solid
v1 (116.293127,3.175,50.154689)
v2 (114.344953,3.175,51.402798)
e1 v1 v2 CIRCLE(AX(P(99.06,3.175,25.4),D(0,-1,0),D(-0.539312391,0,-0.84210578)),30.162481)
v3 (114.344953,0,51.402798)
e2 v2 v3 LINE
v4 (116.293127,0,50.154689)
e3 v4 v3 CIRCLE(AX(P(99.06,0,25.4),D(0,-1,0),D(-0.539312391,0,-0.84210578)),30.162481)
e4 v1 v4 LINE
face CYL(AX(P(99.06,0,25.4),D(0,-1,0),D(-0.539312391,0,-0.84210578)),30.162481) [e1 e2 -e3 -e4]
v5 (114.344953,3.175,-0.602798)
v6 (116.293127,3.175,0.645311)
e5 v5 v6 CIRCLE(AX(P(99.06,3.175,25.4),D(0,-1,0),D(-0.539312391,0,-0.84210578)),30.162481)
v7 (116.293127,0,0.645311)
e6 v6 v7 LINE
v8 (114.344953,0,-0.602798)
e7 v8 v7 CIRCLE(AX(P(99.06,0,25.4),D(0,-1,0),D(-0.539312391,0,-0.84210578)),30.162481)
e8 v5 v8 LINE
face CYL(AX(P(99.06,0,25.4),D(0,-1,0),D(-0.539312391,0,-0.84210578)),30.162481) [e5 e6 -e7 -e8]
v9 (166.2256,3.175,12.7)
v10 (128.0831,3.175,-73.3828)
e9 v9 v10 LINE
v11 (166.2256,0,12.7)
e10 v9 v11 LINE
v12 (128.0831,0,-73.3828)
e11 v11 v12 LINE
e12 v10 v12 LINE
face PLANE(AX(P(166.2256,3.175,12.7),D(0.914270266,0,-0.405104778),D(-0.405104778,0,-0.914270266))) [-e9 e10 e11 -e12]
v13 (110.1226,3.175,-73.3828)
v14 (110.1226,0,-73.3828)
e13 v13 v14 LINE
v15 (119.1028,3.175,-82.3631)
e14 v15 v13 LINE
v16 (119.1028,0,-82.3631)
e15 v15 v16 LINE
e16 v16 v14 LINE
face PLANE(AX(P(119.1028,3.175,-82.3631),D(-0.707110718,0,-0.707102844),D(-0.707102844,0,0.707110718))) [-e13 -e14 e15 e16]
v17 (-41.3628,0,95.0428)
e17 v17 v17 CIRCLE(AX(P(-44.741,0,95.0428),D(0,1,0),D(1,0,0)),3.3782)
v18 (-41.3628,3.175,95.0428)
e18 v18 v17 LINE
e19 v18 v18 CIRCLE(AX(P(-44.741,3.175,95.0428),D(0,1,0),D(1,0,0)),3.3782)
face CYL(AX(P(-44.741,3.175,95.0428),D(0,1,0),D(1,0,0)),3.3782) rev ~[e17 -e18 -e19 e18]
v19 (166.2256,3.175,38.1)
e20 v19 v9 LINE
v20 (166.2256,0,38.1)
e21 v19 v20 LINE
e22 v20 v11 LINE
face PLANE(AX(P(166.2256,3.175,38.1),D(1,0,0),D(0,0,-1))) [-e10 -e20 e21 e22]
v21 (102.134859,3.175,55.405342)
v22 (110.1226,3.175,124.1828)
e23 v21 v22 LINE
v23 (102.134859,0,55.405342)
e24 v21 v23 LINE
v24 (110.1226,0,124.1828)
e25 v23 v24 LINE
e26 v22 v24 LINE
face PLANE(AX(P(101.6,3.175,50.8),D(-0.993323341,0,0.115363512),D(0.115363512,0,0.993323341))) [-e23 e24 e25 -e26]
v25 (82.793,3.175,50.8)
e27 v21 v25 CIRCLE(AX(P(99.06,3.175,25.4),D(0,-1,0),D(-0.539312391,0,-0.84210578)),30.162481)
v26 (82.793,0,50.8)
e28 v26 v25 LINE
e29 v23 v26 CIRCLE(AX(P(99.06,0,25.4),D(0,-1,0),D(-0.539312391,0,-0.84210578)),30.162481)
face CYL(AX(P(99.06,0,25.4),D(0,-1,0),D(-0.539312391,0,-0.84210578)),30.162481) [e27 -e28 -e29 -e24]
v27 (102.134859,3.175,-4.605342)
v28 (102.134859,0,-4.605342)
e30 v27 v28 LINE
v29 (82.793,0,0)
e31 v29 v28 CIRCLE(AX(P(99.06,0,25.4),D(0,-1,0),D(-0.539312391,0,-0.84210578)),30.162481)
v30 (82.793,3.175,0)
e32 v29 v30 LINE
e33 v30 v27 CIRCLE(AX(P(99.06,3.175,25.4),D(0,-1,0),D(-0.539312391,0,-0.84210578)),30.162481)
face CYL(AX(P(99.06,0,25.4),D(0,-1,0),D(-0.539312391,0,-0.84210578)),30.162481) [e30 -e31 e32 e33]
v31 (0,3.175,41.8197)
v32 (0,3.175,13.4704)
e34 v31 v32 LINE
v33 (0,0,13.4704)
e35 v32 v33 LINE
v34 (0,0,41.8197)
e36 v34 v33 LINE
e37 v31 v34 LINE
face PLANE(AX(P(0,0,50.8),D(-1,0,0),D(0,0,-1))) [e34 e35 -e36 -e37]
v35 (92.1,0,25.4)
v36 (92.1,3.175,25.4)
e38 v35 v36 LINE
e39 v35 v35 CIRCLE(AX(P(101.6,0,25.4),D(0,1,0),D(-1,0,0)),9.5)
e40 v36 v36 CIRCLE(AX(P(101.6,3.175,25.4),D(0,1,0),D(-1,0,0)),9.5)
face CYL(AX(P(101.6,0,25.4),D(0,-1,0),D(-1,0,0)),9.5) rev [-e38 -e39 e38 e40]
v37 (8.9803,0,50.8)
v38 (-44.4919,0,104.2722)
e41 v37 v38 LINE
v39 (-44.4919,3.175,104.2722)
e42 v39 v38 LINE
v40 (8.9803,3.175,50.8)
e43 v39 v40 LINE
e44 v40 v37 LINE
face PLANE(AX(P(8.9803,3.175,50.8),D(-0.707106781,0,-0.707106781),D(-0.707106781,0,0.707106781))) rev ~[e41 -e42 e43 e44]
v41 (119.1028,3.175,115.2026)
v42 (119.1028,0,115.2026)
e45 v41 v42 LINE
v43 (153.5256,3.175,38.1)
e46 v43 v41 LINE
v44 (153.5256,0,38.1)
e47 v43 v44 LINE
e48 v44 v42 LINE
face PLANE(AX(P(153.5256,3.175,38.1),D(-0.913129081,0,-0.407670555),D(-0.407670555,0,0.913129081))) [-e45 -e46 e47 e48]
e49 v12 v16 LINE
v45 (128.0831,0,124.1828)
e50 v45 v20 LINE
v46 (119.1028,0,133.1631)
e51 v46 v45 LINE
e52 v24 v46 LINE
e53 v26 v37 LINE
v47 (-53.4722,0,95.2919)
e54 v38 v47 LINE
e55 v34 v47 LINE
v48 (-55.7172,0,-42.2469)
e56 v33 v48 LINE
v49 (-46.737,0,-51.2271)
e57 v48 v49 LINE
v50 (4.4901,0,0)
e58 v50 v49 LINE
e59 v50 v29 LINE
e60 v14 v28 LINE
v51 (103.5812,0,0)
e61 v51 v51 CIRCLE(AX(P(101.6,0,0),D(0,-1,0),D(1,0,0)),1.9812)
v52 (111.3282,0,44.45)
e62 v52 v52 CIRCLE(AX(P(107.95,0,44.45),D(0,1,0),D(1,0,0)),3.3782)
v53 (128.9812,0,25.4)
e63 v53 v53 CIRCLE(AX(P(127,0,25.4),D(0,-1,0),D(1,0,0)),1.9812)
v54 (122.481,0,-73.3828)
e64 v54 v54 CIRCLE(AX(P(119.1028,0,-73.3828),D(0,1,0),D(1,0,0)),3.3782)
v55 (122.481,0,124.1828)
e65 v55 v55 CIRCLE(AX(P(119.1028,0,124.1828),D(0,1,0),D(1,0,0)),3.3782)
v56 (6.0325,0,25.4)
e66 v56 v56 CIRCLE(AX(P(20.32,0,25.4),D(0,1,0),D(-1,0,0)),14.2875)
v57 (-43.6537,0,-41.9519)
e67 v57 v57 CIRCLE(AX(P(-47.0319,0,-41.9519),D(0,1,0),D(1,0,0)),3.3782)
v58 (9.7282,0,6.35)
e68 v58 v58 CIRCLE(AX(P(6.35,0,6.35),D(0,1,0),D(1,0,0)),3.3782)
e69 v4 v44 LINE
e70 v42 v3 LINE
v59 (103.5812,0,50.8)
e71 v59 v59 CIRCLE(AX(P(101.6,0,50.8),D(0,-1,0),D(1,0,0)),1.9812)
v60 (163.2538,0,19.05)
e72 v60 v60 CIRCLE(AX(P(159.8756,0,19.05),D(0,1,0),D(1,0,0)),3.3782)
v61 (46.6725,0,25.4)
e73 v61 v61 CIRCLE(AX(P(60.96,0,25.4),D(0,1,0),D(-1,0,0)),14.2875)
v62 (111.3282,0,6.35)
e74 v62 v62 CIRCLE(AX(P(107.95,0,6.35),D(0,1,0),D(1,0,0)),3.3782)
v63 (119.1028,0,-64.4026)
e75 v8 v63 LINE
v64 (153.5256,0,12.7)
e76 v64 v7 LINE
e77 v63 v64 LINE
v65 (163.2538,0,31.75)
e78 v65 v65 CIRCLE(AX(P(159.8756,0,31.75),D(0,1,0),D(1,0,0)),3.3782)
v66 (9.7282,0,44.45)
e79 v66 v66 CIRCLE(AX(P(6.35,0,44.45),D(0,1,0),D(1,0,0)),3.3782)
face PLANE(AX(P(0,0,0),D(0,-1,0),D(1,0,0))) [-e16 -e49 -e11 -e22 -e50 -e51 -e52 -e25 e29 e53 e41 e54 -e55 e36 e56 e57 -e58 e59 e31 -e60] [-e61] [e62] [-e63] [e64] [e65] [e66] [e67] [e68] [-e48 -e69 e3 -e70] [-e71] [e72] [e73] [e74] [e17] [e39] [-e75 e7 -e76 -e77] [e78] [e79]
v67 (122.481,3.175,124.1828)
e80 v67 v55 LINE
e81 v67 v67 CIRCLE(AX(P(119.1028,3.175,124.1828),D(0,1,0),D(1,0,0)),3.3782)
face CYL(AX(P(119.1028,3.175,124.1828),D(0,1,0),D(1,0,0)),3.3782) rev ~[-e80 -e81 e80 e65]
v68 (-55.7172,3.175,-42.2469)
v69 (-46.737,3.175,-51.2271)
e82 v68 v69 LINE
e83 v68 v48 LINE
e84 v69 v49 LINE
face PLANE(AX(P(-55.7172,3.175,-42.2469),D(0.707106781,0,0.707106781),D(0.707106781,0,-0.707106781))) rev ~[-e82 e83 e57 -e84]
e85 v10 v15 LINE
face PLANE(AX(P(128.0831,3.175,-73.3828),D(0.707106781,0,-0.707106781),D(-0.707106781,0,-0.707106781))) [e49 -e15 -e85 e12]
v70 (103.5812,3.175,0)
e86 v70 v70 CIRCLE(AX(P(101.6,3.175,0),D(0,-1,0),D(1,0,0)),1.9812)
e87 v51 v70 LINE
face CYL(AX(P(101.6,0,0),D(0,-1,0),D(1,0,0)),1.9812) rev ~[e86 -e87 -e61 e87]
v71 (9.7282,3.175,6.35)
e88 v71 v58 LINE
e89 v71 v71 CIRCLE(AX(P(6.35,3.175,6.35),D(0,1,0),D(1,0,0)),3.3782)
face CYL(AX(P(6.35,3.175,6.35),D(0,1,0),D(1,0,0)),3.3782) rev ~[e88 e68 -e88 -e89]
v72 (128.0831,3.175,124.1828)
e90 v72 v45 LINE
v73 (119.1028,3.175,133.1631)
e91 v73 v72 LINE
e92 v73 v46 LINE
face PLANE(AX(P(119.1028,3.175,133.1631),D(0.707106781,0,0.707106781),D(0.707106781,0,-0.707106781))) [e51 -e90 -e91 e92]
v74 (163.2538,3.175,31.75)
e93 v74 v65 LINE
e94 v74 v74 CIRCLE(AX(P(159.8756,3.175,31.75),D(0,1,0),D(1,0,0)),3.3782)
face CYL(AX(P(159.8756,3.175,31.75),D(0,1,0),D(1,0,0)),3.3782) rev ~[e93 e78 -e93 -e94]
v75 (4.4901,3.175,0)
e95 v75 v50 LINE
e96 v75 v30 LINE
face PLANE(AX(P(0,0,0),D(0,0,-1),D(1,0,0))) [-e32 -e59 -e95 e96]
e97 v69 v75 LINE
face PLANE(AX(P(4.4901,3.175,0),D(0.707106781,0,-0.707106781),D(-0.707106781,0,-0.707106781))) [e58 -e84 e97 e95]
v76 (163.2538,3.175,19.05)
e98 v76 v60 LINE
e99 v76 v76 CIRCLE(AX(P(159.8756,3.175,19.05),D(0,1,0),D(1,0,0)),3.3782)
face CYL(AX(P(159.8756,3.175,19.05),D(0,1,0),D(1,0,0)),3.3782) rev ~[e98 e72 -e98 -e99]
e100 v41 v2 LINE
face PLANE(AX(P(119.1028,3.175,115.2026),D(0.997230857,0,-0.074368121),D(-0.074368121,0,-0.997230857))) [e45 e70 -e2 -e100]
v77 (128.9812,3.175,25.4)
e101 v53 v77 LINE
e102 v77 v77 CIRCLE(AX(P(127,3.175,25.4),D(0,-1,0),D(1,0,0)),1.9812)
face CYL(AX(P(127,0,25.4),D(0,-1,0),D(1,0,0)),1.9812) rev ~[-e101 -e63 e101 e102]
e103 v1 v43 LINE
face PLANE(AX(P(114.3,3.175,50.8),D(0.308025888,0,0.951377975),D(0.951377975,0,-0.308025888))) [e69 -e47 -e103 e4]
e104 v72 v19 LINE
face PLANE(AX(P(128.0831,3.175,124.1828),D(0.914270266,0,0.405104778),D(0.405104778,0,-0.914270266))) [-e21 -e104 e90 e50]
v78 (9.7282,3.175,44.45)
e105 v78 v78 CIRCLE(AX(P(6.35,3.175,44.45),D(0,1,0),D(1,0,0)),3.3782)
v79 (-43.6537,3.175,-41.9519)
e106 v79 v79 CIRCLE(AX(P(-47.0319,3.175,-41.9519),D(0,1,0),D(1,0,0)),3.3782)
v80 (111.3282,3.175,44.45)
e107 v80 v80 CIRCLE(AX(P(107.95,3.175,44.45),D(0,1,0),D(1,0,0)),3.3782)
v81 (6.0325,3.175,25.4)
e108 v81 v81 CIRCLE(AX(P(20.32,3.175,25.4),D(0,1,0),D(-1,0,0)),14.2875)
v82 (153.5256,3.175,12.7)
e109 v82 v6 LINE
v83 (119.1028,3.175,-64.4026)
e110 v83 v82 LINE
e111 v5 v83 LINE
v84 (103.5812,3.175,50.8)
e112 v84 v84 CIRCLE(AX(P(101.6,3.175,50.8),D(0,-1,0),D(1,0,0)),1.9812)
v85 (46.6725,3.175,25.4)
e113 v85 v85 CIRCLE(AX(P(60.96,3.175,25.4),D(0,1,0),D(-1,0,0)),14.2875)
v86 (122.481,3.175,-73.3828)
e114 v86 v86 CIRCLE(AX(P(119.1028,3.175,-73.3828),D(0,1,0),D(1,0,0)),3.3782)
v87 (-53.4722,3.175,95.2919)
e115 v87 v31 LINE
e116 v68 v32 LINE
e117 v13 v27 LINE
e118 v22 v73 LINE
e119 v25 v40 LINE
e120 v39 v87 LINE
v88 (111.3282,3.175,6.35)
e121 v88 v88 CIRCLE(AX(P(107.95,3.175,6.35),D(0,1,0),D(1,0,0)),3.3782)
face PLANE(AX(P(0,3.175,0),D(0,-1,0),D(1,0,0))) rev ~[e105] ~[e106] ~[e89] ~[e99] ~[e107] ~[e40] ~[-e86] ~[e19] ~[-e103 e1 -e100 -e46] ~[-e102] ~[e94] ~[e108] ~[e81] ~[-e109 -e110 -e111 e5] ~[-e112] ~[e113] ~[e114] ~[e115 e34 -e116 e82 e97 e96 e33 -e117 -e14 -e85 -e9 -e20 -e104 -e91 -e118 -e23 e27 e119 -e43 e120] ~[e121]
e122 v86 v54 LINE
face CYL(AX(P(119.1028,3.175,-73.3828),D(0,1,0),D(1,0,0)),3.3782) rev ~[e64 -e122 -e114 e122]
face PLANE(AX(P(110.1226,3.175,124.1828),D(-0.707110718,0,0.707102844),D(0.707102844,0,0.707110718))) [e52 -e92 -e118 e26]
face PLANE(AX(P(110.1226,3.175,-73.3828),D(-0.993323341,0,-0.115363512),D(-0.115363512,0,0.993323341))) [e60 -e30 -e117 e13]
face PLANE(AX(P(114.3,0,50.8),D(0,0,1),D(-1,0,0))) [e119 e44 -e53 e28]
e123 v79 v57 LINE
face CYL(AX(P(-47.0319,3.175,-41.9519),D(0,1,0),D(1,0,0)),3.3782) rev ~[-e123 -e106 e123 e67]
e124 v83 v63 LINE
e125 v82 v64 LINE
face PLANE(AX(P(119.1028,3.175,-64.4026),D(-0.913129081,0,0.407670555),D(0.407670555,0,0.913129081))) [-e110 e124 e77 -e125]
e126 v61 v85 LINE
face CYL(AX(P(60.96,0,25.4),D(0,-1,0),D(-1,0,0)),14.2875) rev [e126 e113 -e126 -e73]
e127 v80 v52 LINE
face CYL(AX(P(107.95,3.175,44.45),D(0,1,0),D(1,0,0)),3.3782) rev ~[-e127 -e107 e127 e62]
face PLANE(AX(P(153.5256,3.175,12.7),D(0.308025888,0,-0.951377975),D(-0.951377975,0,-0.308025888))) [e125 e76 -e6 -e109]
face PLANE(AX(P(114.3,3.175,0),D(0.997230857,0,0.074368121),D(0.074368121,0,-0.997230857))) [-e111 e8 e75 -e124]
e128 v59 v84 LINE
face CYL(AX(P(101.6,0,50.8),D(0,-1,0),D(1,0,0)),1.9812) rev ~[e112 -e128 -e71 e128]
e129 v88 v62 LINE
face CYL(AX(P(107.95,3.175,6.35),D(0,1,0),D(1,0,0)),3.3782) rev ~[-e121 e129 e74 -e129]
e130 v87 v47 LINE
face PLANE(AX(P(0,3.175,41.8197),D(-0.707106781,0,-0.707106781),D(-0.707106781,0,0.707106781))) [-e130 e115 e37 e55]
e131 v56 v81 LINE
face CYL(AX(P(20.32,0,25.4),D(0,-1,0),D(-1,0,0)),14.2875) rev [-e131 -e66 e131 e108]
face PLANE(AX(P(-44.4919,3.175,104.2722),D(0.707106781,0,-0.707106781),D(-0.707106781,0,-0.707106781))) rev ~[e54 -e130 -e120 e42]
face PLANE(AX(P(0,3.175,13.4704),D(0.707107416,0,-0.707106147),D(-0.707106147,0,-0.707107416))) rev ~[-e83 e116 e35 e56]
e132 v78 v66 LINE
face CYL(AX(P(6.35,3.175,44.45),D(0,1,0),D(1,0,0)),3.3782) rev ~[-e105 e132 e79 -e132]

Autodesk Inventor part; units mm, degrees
ref_plane "YZ Plane" through (0, 0, 0) normal (1, 0, 0) x (0, 1, 0)
ref_plane "XZ Plane" through (0, 0, 0) normal (0, 1, 0) x (-1, 0, 0)
ref_plane "XY Plane" through (0, 0, 0) normal (0, 0, 1) x (1, 0, 0)
sketch "Sketch1" plane through (0, 0, 0) normal (0, 1, 0) x (-1, 0, 0)
  line L0 (0, 0) -> (-114.3, 0)
  line L1 (-114.3, 0) -> (-114.3, 50.8)
  line L2 (-114.3, 50.8) -> (0, 50.8)
  line L3 (0, 50.8) -> (0, 0)
  circle A0 centre (-101.6, 25.4) radius 9.5
  circle A1 centre (-60.96, 25.4) radius 14.2875
  circle A2 centre (-20.32, 25.4) radius 14.2875
  dimension "d3" = 50.8
  dimension "d4" = 19
  dimension "d12" = 28.575
  dimension "d13" = 40.64
  dimension "d14" = 114.3
  dimension "d15" = 28.575
  dimension "d16" = 40.64
  dimension "d56" = 20.32
  dimension "d57" = 25.4
  dimension "d58" = 25.4
  dimension "d59" = 25.4
extrude "Extrusion3" add sketch "Sketch1" along normal blind 3.175
sketch "Sketch2" plane through (0, 3.175, 0) normal (0, 1, 0) x (1, 0, 0)
  line L0 (114.3, 0) -> (0, 0) projected
  line L1 (0, -50.8) -> (114.3, -50.8) projected
  line L2 (114.3, -50.8) -> (114.3, 0) projected
  circle A0 centre (107.95, -6.35) radius 3.3782
  circle A1 centre (107.95, -44.45) radius 3.3782
  dimension "d19" = 6.7564
  dimension "d20" = 6.7564
  dimension "d21" = 6.35
  dimension "d22" = 6.35
  dimension "d23" = 6.35
  dimension "d24" = 6.35
extrude "Extrusion4" cut sketch "Sketch2" against normal blind 25.4
sketch "Sketch3" plane through (0, 3.175, 0) normal (0, 1, 0) x (1, 0, 0)
  line L0 (114.3, 0) -> (0, 0) projected
  line L1 (0, 0) -> (0, -50.8) projected
  line L2 (0, -50.8) -> (114.3, -50.8) projected
  circle A0 centre (6.35, -6.35) radius 3.3782
  circle A1 centre (6.35, -44.45) radius 3.3782
  dimension "d27" = 6.7564
  dimension "d28" = 6.7564
  dimension "d29" = 6.35
  dimension "d30" = 6.35
  dimension "d31" = 6.35
  dimension "d32" = 6.35
extrude "Extrusion5" cut sketch "Sketch3" against normal blind 25.4
sketch "Sketch4" plane through (0, 3.175, 0) normal (0, 1, 0) x (1, 0, 0)
  circle A0 centre (6.35, -6.35) radius 3.3782 projected
  circle A1 centre (6.35, -44.45) radius 3.3782 projected
  line L0 (114.3, 0) -> (0, 0) projected
  line L1 (0, 0) -> (0, -50.8) projected
  line L2 (0, -50.8) -> (114.3, -50.8) projected
  line L3 (226.8659, 306.8695) -> (559.1354, -25.4) projected
  line L4 (559.1354, -25.4) -> (226.8659, -357.6695) projected
  line L5 (226.8659, -357.6695) -> (-105.4036, -25.4) projected
  line L6 (-105.4036, -25.4) -> (226.8659, 306.8695) projected
  circle A2 centre (-105.9649, -16.981) radius 3.3782 projected
  circle A3 centre (-97.5459, -8.562) radius 3.3782 projected
  circle A4 centre (-89.1269, -0.143) radius 3.3782 projected
  circle A5 centre (-80.7079, 8.276) radius 3.3782 projected
  circle A6 centre (-72.2889, 16.695) radius 3.3782 projected
  circle A7 centre (-63.8699, 25.1139) radius 3.3782 projected
  circle A8 centre (-55.4509, 33.5329) radius 3.3782 projected
  circle A9 centre (-47.0319, 41.9519) radius 3.3782 projected
  circle A10 centre (-39.2063, 49.7776) radius 3.3782 projected
  circle A11 centre (-31.3806, 57.6032) radius 3.3782 projected
  circle A12 centre (-23.555, 65.4289) radius 3.3782 projected
  circle A13 centre (-15.7293, 73.2545) radius 3.3782 projected
  circle A14 centre (-7.9037, 81.0802) radius 3.3782 projected
  circle A15 centre (-0.078, 88.9058) radius 3.3782 projected
  circle A16 centre (7.7476, 96.7315) radius 3.3782 projected
  circle A17 centre (15.5733, 104.5571) radius 3.3782 projected
  circle A18 centre (23.3989, 112.3828) radius 3.3782 projected
  circle A19 centre (31.2246, 120.2084) radius 3.3782 projected
  circle A20 centre (39.0502, 128.0341) radius 3.3782 projected
  circle A21 centre (46.8759, 135.8597) radius 3.3782 projected
  circle A22 centre (54.7016, 143.6854) radius 3.3782 projected
  circle A23 centre (62.5272, 151.511) radius 3.3782 projected
  circle A24 centre (70.3529, 159.3367) radius 3.3782 projected
  circle A25 centre (78.1785, 167.1623) radius 3.3782 projected
  circle A26 centre (86.0042, 174.988) radius 3.3782 projected
  circle A27 centre (93.8298, 182.8137) radius 3.3782 projected
  circle A28 centre (101.6555, 190.6393) radius 3.3782 projected
  circle A29 centre (109.4811, 198.465) radius 3.3782 projected
  circle A30 centre (117.3068, 206.2906) radius 3.3782 projected
  circle A31 centre (125.1324, 214.1163) radius 3.3782 projected
  circle A32 centre (132.9581, 221.9419) radius 3.3782 projected
  circle A33 centre (140.7837, 229.7676) radius 3.3782 projected
  circle A34 centre (148.6094, 237.5932) radius 3.3782 projected
  circle A35 centre (156.435, 245.4189) radius 3.3782 projected
  circle A36 centre (164.2607, 253.2445) radius 3.3782 projected
  circle A37 centre (172.0863, 261.0702) radius 3.3782 projected
  circle A38 centre (179.912, 268.8958) radius 3.3782 projected
  circle A39 centre (187.7376, 276.7215) radius 3.3782 projected
  circle A40 centre (195.5633, 284.5471) radius 3.3782 projected
  circle A41 centre (203.3889, 292.3728) radius 3.3782 projected
  circle A42 centre (211.2146, 300.1984) radius 3.3782 projected
  circle A43 centre (219.0402, 308.0241) radius 3.3782 projected
  circle A44 centre (226.8659, 315.8497) radius 3.3782 projected
  circle A45 centre (-114.3838, -25.4) radius 3.3782 projected
  circle A46 centre (-107.4196, -32.3643) radius 3.3782 projected
  circle A47 centre (-100.4553, -39.3286) radius 3.3782 projected
  circle A48 centre (-93.491, -46.2928) radius 3.3782 projected
  circle A49 centre (-86.5267, -53.2571) radius 3.3782 projected
  circle A50 centre (-79.5624, -60.2214) radius 3.3782 projected
  circle A51 centre (-72.5982, -67.1857) radius 3.3782 projected
  circle A52 centre (-65.6339, -74.15) radius 3.3782 projected
  circle A53 centre (-58.6696, -81.1142) radius 3.3782 projected
  circle A54 centre (-51.7053, -88.0785) radius 3.3782 projected
  circle A55 centre (-44.741, -95.0428) radius 3.3782 projected
  circle A56 centre (-37.7768, -102.0071) radius 3.3782 projected
  circle A57 centre (-30.8125, -108.9714) radius 3.3782 projected
  circle A58 centre (-23.8482, -115.9356) radius 3.3782 projected
  circle A59 centre (-16.8839, -122.8999) radius 3.3782 projected
  circle A60 centre (-9.9196, -129.8642) radius 3.3782 projected
  circle A61 centre (-2.9554, -136.8285) radius 3.3782 projected
  circle A62 centre (4.0089, -143.7928) radius 3.3782 projected
  circle A63 centre (10.9732, -150.757) radius 3.3782 projected
  circle A64 centre (17.9375, -157.7213) radius 3.3782 projected
  circle A65 centre (24.9018, -164.6856) radius 3.3782 projected
  circle A66 centre (31.866, -171.6499) radius 3.3782 projected
  circle A67 centre (38.8303, -178.6142) radius 3.3782 projected
  circle A68 centre (45.7946, -185.5784) radius 3.3782 projected
  circle A69 centre (52.7589, -192.5427) radius 3.3782 projected
  circle A70 centre (59.7232, -199.507) radius 3.3782 projected
  circle A71 centre (66.6874, -206.4713) radius 3.3782 projected
  circle A72 centre (73.6517, -213.4356) radius 3.3782 projected
  circle A73 centre (80.616, -220.3998) radius 3.3782 projected
  circle A74 centre (87.5803, -227.3641) radius 3.3782 projected
  circle A75 centre (94.5446, -234.3284) radius 3.3782 projected
  circle A76 centre (101.5088, -241.2927) radius 3.3782 projected
  circle A77 centre (108.4731, -248.257) radius 3.3782 projected
  circle A78 centre (115.4374, -255.2212) radius 3.3782 projected
  circle A79 centre (122.4017, -262.1855) radius 3.3782 projected
  circle A80 centre (129.366, -269.1498) radius 3.3782 projected
  circle A81 centre (136.3302, -276.1141) radius 3.3782 projected
  circle A82 centre (143.2945, -283.0784) radius 3.3782 projected
  circle A83 centre (150.2588, -290.0426) radius 3.3782 projected
  circle A84 centre (157.2231, -297.0069) radius 3.3782 projected
  circle A85 centre (164.1874, -303.9712) radius 3.3782 projected
  circle A86 centre (171.1516, -310.9355) radius 3.3782 projected
  circle A87 centre (178.1159, -317.8998) radius 3.3782 projected
  circle A88 centre (185.0802, -324.8641) radius 3.3782 projected
  circle A89 centre (192.0445, -331.8283) radius 3.3782 projected
  circle A90 centre (199.0088, -338.7926) radius 3.3782 projected
  circle A91 centre (205.9731, -345.7569) radius 3.3782 projected
  circle A92 centre (212.9373, -352.7212) radius 3.3782 projected
  circle A93 centre (219.9016, -359.6855) radius 3.3782 projected
  circle A94 centre (302.0435, 240.6722) radius 3.3782 projected
  circle A95 centre (309.8691, 232.8465) radius 3.3782 projected
  circle A96 centre (317.6948, 225.0209) radius 3.3782 projected
  circle A97 centre (325.5204, 217.1952) radius 3.3782 projected
  circle A98 centre (333.3461, 209.3696) radius 3.3782 projected
  circle A99 centre (341.1717, 201.5439) radius 3.3782 projected
  circle A100 centre (348.9974, 193.7182) radius 3.3782 projected
  circle A101 centre (356.823, 185.8926) radius 3.3782 projected
  circle A102 centre (364.6487, 178.0669) radius 3.3782 projected
  circle A103 centre (372.4743, 170.2413) radius 3.3782 projected
  circle A104 centre (380.3, 162.4156) radius 3.3782 projected
  circle A105 centre (388.1256, 154.59) radius 3.3782 projected
  circle A106 centre (395.9513, 146.7643) radius 3.3782 projected
  circle A107 centre (403.7769, 138.9387) radius 3.3782 projected
  circle A108 centre (411.6026, 131.113) radius 3.3782 projected
  circle A109 centre (419.4282, 123.2874) radius 3.3782 projected
  circle A110 centre (427.2539, 115.4617) radius 3.3782 projected
  circle A111 centre (435.0795, 107.6361) radius 3.3782 projected
  circle A112 centre (442.9052, 99.8104) radius 3.3782 projected
  circle A113 centre (450.7308, 91.9848) radius 3.3782 projected
  circle A114 centre (458.5565, 84.1591) radius 3.3782 projected
  circle A115 centre (466.3822, 76.3335) radius 3.3782 projected
  circle A116 centre (474.2078, 68.5078) radius 3.3782 projected
  circle A117 centre (482.0335, 60.6822) radius 3.3782 projected
  circle A118 centre (489.8591, 52.8565) radius 3.3782 projected
  circle A119 centre (497.6848, 45.0309) radius 3.3782 projected
  circle A120 centre (505.5104, 37.2052) radius 3.3782 projected
  circle A121 centre (513.3361, 29.3796) radius 3.3782 projected
  circle A122 centre (521.1617, 21.5539) radius 3.3782 projected
  circle A123 centre (528.9874, 13.7283) radius 3.3782 projected
  circle A124 centre (536.813, 5.9026) radius 3.3782 projected
  circle A125 centre (544.6387, -1.923) radius 3.3782 projected
  circle A126 centre (552.4643, -9.7487) radius 3.3782 projected
  circle A127 centre (560.29, -17.5743) radius 3.3782 projected
  circle A128 centre (568.1156, -25.4) radius 3.3782 projected
  circle A129 centre (560.29, -33.2257) radius 3.3782 projected
  circle A130 centre (552.4643, -41.0513) radius 3.3782 projected
  circle A131 centre (544.6387, -48.877) radius 3.3782 projected
  circle A132 centre (536.813, -56.7026) radius 3.3782 projected
  circle A133 centre (528.9874, -64.5283) radius 3.3782 projected
  circle A134 centre (521.1617, -72.3539) radius 3.3782 projected
  circle A135 centre (513.3361, -80.1796) radius 3.3782 projected
  circle A136 centre (505.5104, -88.0052) radius 3.3782 projected
  circle A137 centre (497.6848, -95.8309) radius 3.3782 projected
  circle A138 centre (489.8591, -103.6565) radius 3.3782 projected
  circle A139 centre (482.0335, -111.4822) radius 3.3782 projected
  circle A140 centre (474.2078, -119.3078) radius 3.3782 projected
  circle A141 centre (466.3822, -127.1335) radius 3.3782 projected
  circle A142 centre (458.5565, -134.9591) radius 3.3782 projected
  circle A143 centre (450.7308, -142.7848) radius 3.3782 projected
  circle A144 centre (442.9052, -150.6104) radius 3.3782 projected
  circle A145 centre (435.0795, -158.4361) radius 3.3782 projected
  circle A146 centre (427.2539, -166.2617) radius 3.3782 projected
  circle A147 centre (419.4282, -174.0874) radius 3.3782 projected
  circle A148 centre (411.6026, -181.913) radius 3.3782 projected
  circle A149 centre (403.7769, -189.7387) radius 3.3782 projected
  circle A150 centre (395.9513, -197.5643) radius 3.3782 projected
  circle A151 centre (388.1256, -205.39) radius 3.3782 projected
  circle A152 centre (380.3, -213.2156) radius 3.3782 projected
  circle A153 centre (372.4743, -221.0413) radius 3.3782 projected
  circle A154 centre (364.6487, -228.8669) radius 3.3782 projected
  circle A155 centre (356.823, -236.6926) radius 3.3782 projected
  circle A156 centre (348.9974, -244.5182) radius 3.3782 projected
  circle A157 centre (341.1717, -252.3439) radius 3.3782 projected
  circle A158 centre (333.3461, -260.1696) radius 3.3782 projected
  circle A159 centre (325.5204, -267.9952) radius 3.3782 projected
  circle A160 centre (317.6948, -275.8209) radius 3.3782 projected
  circle A161 centre (309.8691, -283.6465) radius 3.3782 projected
  circle A162 centre (302.0435, -291.4722) radius 3.3782 projected
  circle A163 centre (287.4826, 255.233) radius 3.3782 projected
  circle A164 centre (274.0122, 268.7034) radius 3.3782 projected
  circle A165 centre (260.5419, 282.1738) radius 3.3782 projected
  circle A166 centre (247.0715, 295.6442) radius 3.3782 projected
  circle A167 centre (233.6011, 309.1145) radius 3.3782 projected
  circle A168 centre (294.2178, 248.4978) radius 3.3782 projected
  circle A169 centre (240.3363, 302.3793) radius 3.3782 projected
  circle A170 centre (253.8067, 288.909) radius 3.3782 projected
  circle A171 centre (267.277, 275.4386) radius 3.3782 projected
  circle A172 centre (280.7474, 261.9682) radius 3.3782 projected
  circle A173 centre (268.9608, -324.5548) radius 3.3782 projected
  circle A174 centre (226.8659, -366.6497) radius 3.3782 projected
  circle A175 centre (235.2849, -358.2307) radius 3.3782 projected
  circle A176 centre (243.7039, -349.8118) radius 3.3782 projected
  circle A177 centre (252.1229, -341.3928) radius 3.3782 projected
  circle A178 centre (260.5419, -332.9738) radius 3.3782 projected
  circle A179 centre (277.3798, -316.1358) radius 3.3782 projected
  circle A180 centre (285.7988, -307.7168) radius 3.3782 projected
  circle A181 centre (294.2178, -299.2978) radius 3.3782 projected
  line L7 (226.8659, -375.63) -> (-123.3641, -25.4) projected
  line L8 (577.0959, -25.4) -> (226.8659, -375.63) projected
  line L9 (226.8659, 324.83) -> (577.0959, -25.4) projected
  line L10 (-123.3641, -25.4) -> (226.8659, 324.83) projected
  line L11 (8.9803, -50.8) -> (-44.4919, -104.2722)
  line L12 (4.4901, 0) -> (-46.737, 51.2271)
  line L13 (0, -41.8197) -> (-53.4722, -95.2919)
  line L14 (0, -13.4704) -> (-55.7172, 42.2469)
  line L15 (-53.4722, -95.2919) -> (-44.4919, -104.2722)
  line L16 (8.9803, -50.8) -> (0, -50.8)
  line L17 (0, -50.8) -> (0, -41.8197)
  line L18 (-55.7172, 42.2469) -> (-46.737, 51.2271)
  line L19 (0, -13.4704) -> (0, 0)
  line L20 (4.4901, 0) -> (0, 0)
  dimension "d35" = 6.35
  dimension "d36" = 3.175
  dimension "d39" = 12.7
  dimension "d40" = 12.7
extrude "Extrusion6" add sketch "Sketch4" against normal blind 3.175 contours L0 L1 L14 L6 L12 | L6 L14 L10 L12 | L1 L2 L11 L5 L13 | L5 L11 A56 L7 L13 | L11 A56 picked at (-40.1488, -99.8322)
sketch "Sketch5" plane through (0, 0, 0) normal (0, -1, 0) x (1, 0, 0)
  line L0 (4.4901, 0) -> (114.3, 0) projected
  line L1 (114.3, 0) -> (114.3, 50.8) projected
  line L2 (114.3, 50.8) -> (8.9803, 50.8) projected
  arc A0 (82.793, 0) -> (82.793, 50.8) centre (99.06, 25.4) ccw
  point P0 (0, 0)
  dimension "d47" = 60.325
extrude "Extrusion7" add sketch "Sketch5" against normal blind 3.175
sketch "Sketch6" plane through (0, 0, 0) normal (0, -1, 0) x (1, 0, 0)
  circle A0 centre (101.6, 0) radius 1.9812
  circle A1 centre (127, 25.4) radius 1.9812
  circle A2 centre (101.6, 50.8) radius 1.9812
  point P0 (0, 0)
sketch "Sketch7" plane through (0, 3.175, 0) normal (0, 1, 0) x (1, 0, 0)
  circle A0 centre (124.46, -25.4) radius 2.032 projected
  circle A1 centre (107.95, -6.35) radius 3.3782 projected
  circle A2 centre (107.95, -44.45) radius 3.3782 projected
  line L0 (114.3, -50.8) -> (153.5256, -38.1) projected
  line L1 (153.5256, -38.1) -> (119.1028, -115.2026) projected
  line L2 (119.1028, -115.2026) -> (114.3, -50.8) projected
  line L3 (153.5256, -12.7) -> (114.3, 0) projected
  line L4 (114.3, 0) -> (119.1028, 64.4026) projected
  line L5 (119.1028, 64.4026) -> (153.5256, -12.7) projected
  circle A3 centre (107.95, -44.45) radius 3.3782 projected
  circle A4 centre (107.95, -6.35) radius 3.3782 projected
  circle A5 centre (119.1028, -124.1828) radius 3.3782 projected
  circle A6 centre (159.8756, -19.05) radius 3.3782 projected
  circle A7 centre (159.8756, -31.75) radius 3.3782 projected
  circle A8 centre (119.1028, 73.3828) radius 3.3782 projected
  line L6 (101.6, -50.8) -> (110.1226, -124.1828) projected
  line L7 (110.1226, -124.1828) -> (119.1028, -133.1631) projected
  line L8 (119.1028, -133.1631) -> (128.0831, -124.1828) projected
  line L9 (128.0831, -124.1828) -> (166.2256, -38.1) projected
  line L10 (166.2256, -38.1) -> (166.2256, -12.7) projected
  line L11 (166.2256, -12.7) -> (128.0831, 73.3828) projected
  line L12 (128.0831, 73.3828) -> (119.1028, 82.3631) projected
  line L13 (119.1028, 82.3631) -> (110.1226, 73.3828) projected
  line L14 (110.1226, 73.3828) -> (101.6, 0) projected
  line L15 (101.6, 0) -> (101.6, -9.7295) projected
  arc A9 (101.6, -41.0705) -> (101.6, -9.7295) centre (99.06, -25.4) ccw projected
  line L16 (101.6, -41.0705) -> (101.6, -50.8) projected
  point P0 (0, 0)
extrude "Extrusion9" add sketch "Sketch7" against normal blind 3.175
extrude "Extrusion10" cut sketch "Sketch6" against normal blind 25.4
properties part number "Bearing Plate"
